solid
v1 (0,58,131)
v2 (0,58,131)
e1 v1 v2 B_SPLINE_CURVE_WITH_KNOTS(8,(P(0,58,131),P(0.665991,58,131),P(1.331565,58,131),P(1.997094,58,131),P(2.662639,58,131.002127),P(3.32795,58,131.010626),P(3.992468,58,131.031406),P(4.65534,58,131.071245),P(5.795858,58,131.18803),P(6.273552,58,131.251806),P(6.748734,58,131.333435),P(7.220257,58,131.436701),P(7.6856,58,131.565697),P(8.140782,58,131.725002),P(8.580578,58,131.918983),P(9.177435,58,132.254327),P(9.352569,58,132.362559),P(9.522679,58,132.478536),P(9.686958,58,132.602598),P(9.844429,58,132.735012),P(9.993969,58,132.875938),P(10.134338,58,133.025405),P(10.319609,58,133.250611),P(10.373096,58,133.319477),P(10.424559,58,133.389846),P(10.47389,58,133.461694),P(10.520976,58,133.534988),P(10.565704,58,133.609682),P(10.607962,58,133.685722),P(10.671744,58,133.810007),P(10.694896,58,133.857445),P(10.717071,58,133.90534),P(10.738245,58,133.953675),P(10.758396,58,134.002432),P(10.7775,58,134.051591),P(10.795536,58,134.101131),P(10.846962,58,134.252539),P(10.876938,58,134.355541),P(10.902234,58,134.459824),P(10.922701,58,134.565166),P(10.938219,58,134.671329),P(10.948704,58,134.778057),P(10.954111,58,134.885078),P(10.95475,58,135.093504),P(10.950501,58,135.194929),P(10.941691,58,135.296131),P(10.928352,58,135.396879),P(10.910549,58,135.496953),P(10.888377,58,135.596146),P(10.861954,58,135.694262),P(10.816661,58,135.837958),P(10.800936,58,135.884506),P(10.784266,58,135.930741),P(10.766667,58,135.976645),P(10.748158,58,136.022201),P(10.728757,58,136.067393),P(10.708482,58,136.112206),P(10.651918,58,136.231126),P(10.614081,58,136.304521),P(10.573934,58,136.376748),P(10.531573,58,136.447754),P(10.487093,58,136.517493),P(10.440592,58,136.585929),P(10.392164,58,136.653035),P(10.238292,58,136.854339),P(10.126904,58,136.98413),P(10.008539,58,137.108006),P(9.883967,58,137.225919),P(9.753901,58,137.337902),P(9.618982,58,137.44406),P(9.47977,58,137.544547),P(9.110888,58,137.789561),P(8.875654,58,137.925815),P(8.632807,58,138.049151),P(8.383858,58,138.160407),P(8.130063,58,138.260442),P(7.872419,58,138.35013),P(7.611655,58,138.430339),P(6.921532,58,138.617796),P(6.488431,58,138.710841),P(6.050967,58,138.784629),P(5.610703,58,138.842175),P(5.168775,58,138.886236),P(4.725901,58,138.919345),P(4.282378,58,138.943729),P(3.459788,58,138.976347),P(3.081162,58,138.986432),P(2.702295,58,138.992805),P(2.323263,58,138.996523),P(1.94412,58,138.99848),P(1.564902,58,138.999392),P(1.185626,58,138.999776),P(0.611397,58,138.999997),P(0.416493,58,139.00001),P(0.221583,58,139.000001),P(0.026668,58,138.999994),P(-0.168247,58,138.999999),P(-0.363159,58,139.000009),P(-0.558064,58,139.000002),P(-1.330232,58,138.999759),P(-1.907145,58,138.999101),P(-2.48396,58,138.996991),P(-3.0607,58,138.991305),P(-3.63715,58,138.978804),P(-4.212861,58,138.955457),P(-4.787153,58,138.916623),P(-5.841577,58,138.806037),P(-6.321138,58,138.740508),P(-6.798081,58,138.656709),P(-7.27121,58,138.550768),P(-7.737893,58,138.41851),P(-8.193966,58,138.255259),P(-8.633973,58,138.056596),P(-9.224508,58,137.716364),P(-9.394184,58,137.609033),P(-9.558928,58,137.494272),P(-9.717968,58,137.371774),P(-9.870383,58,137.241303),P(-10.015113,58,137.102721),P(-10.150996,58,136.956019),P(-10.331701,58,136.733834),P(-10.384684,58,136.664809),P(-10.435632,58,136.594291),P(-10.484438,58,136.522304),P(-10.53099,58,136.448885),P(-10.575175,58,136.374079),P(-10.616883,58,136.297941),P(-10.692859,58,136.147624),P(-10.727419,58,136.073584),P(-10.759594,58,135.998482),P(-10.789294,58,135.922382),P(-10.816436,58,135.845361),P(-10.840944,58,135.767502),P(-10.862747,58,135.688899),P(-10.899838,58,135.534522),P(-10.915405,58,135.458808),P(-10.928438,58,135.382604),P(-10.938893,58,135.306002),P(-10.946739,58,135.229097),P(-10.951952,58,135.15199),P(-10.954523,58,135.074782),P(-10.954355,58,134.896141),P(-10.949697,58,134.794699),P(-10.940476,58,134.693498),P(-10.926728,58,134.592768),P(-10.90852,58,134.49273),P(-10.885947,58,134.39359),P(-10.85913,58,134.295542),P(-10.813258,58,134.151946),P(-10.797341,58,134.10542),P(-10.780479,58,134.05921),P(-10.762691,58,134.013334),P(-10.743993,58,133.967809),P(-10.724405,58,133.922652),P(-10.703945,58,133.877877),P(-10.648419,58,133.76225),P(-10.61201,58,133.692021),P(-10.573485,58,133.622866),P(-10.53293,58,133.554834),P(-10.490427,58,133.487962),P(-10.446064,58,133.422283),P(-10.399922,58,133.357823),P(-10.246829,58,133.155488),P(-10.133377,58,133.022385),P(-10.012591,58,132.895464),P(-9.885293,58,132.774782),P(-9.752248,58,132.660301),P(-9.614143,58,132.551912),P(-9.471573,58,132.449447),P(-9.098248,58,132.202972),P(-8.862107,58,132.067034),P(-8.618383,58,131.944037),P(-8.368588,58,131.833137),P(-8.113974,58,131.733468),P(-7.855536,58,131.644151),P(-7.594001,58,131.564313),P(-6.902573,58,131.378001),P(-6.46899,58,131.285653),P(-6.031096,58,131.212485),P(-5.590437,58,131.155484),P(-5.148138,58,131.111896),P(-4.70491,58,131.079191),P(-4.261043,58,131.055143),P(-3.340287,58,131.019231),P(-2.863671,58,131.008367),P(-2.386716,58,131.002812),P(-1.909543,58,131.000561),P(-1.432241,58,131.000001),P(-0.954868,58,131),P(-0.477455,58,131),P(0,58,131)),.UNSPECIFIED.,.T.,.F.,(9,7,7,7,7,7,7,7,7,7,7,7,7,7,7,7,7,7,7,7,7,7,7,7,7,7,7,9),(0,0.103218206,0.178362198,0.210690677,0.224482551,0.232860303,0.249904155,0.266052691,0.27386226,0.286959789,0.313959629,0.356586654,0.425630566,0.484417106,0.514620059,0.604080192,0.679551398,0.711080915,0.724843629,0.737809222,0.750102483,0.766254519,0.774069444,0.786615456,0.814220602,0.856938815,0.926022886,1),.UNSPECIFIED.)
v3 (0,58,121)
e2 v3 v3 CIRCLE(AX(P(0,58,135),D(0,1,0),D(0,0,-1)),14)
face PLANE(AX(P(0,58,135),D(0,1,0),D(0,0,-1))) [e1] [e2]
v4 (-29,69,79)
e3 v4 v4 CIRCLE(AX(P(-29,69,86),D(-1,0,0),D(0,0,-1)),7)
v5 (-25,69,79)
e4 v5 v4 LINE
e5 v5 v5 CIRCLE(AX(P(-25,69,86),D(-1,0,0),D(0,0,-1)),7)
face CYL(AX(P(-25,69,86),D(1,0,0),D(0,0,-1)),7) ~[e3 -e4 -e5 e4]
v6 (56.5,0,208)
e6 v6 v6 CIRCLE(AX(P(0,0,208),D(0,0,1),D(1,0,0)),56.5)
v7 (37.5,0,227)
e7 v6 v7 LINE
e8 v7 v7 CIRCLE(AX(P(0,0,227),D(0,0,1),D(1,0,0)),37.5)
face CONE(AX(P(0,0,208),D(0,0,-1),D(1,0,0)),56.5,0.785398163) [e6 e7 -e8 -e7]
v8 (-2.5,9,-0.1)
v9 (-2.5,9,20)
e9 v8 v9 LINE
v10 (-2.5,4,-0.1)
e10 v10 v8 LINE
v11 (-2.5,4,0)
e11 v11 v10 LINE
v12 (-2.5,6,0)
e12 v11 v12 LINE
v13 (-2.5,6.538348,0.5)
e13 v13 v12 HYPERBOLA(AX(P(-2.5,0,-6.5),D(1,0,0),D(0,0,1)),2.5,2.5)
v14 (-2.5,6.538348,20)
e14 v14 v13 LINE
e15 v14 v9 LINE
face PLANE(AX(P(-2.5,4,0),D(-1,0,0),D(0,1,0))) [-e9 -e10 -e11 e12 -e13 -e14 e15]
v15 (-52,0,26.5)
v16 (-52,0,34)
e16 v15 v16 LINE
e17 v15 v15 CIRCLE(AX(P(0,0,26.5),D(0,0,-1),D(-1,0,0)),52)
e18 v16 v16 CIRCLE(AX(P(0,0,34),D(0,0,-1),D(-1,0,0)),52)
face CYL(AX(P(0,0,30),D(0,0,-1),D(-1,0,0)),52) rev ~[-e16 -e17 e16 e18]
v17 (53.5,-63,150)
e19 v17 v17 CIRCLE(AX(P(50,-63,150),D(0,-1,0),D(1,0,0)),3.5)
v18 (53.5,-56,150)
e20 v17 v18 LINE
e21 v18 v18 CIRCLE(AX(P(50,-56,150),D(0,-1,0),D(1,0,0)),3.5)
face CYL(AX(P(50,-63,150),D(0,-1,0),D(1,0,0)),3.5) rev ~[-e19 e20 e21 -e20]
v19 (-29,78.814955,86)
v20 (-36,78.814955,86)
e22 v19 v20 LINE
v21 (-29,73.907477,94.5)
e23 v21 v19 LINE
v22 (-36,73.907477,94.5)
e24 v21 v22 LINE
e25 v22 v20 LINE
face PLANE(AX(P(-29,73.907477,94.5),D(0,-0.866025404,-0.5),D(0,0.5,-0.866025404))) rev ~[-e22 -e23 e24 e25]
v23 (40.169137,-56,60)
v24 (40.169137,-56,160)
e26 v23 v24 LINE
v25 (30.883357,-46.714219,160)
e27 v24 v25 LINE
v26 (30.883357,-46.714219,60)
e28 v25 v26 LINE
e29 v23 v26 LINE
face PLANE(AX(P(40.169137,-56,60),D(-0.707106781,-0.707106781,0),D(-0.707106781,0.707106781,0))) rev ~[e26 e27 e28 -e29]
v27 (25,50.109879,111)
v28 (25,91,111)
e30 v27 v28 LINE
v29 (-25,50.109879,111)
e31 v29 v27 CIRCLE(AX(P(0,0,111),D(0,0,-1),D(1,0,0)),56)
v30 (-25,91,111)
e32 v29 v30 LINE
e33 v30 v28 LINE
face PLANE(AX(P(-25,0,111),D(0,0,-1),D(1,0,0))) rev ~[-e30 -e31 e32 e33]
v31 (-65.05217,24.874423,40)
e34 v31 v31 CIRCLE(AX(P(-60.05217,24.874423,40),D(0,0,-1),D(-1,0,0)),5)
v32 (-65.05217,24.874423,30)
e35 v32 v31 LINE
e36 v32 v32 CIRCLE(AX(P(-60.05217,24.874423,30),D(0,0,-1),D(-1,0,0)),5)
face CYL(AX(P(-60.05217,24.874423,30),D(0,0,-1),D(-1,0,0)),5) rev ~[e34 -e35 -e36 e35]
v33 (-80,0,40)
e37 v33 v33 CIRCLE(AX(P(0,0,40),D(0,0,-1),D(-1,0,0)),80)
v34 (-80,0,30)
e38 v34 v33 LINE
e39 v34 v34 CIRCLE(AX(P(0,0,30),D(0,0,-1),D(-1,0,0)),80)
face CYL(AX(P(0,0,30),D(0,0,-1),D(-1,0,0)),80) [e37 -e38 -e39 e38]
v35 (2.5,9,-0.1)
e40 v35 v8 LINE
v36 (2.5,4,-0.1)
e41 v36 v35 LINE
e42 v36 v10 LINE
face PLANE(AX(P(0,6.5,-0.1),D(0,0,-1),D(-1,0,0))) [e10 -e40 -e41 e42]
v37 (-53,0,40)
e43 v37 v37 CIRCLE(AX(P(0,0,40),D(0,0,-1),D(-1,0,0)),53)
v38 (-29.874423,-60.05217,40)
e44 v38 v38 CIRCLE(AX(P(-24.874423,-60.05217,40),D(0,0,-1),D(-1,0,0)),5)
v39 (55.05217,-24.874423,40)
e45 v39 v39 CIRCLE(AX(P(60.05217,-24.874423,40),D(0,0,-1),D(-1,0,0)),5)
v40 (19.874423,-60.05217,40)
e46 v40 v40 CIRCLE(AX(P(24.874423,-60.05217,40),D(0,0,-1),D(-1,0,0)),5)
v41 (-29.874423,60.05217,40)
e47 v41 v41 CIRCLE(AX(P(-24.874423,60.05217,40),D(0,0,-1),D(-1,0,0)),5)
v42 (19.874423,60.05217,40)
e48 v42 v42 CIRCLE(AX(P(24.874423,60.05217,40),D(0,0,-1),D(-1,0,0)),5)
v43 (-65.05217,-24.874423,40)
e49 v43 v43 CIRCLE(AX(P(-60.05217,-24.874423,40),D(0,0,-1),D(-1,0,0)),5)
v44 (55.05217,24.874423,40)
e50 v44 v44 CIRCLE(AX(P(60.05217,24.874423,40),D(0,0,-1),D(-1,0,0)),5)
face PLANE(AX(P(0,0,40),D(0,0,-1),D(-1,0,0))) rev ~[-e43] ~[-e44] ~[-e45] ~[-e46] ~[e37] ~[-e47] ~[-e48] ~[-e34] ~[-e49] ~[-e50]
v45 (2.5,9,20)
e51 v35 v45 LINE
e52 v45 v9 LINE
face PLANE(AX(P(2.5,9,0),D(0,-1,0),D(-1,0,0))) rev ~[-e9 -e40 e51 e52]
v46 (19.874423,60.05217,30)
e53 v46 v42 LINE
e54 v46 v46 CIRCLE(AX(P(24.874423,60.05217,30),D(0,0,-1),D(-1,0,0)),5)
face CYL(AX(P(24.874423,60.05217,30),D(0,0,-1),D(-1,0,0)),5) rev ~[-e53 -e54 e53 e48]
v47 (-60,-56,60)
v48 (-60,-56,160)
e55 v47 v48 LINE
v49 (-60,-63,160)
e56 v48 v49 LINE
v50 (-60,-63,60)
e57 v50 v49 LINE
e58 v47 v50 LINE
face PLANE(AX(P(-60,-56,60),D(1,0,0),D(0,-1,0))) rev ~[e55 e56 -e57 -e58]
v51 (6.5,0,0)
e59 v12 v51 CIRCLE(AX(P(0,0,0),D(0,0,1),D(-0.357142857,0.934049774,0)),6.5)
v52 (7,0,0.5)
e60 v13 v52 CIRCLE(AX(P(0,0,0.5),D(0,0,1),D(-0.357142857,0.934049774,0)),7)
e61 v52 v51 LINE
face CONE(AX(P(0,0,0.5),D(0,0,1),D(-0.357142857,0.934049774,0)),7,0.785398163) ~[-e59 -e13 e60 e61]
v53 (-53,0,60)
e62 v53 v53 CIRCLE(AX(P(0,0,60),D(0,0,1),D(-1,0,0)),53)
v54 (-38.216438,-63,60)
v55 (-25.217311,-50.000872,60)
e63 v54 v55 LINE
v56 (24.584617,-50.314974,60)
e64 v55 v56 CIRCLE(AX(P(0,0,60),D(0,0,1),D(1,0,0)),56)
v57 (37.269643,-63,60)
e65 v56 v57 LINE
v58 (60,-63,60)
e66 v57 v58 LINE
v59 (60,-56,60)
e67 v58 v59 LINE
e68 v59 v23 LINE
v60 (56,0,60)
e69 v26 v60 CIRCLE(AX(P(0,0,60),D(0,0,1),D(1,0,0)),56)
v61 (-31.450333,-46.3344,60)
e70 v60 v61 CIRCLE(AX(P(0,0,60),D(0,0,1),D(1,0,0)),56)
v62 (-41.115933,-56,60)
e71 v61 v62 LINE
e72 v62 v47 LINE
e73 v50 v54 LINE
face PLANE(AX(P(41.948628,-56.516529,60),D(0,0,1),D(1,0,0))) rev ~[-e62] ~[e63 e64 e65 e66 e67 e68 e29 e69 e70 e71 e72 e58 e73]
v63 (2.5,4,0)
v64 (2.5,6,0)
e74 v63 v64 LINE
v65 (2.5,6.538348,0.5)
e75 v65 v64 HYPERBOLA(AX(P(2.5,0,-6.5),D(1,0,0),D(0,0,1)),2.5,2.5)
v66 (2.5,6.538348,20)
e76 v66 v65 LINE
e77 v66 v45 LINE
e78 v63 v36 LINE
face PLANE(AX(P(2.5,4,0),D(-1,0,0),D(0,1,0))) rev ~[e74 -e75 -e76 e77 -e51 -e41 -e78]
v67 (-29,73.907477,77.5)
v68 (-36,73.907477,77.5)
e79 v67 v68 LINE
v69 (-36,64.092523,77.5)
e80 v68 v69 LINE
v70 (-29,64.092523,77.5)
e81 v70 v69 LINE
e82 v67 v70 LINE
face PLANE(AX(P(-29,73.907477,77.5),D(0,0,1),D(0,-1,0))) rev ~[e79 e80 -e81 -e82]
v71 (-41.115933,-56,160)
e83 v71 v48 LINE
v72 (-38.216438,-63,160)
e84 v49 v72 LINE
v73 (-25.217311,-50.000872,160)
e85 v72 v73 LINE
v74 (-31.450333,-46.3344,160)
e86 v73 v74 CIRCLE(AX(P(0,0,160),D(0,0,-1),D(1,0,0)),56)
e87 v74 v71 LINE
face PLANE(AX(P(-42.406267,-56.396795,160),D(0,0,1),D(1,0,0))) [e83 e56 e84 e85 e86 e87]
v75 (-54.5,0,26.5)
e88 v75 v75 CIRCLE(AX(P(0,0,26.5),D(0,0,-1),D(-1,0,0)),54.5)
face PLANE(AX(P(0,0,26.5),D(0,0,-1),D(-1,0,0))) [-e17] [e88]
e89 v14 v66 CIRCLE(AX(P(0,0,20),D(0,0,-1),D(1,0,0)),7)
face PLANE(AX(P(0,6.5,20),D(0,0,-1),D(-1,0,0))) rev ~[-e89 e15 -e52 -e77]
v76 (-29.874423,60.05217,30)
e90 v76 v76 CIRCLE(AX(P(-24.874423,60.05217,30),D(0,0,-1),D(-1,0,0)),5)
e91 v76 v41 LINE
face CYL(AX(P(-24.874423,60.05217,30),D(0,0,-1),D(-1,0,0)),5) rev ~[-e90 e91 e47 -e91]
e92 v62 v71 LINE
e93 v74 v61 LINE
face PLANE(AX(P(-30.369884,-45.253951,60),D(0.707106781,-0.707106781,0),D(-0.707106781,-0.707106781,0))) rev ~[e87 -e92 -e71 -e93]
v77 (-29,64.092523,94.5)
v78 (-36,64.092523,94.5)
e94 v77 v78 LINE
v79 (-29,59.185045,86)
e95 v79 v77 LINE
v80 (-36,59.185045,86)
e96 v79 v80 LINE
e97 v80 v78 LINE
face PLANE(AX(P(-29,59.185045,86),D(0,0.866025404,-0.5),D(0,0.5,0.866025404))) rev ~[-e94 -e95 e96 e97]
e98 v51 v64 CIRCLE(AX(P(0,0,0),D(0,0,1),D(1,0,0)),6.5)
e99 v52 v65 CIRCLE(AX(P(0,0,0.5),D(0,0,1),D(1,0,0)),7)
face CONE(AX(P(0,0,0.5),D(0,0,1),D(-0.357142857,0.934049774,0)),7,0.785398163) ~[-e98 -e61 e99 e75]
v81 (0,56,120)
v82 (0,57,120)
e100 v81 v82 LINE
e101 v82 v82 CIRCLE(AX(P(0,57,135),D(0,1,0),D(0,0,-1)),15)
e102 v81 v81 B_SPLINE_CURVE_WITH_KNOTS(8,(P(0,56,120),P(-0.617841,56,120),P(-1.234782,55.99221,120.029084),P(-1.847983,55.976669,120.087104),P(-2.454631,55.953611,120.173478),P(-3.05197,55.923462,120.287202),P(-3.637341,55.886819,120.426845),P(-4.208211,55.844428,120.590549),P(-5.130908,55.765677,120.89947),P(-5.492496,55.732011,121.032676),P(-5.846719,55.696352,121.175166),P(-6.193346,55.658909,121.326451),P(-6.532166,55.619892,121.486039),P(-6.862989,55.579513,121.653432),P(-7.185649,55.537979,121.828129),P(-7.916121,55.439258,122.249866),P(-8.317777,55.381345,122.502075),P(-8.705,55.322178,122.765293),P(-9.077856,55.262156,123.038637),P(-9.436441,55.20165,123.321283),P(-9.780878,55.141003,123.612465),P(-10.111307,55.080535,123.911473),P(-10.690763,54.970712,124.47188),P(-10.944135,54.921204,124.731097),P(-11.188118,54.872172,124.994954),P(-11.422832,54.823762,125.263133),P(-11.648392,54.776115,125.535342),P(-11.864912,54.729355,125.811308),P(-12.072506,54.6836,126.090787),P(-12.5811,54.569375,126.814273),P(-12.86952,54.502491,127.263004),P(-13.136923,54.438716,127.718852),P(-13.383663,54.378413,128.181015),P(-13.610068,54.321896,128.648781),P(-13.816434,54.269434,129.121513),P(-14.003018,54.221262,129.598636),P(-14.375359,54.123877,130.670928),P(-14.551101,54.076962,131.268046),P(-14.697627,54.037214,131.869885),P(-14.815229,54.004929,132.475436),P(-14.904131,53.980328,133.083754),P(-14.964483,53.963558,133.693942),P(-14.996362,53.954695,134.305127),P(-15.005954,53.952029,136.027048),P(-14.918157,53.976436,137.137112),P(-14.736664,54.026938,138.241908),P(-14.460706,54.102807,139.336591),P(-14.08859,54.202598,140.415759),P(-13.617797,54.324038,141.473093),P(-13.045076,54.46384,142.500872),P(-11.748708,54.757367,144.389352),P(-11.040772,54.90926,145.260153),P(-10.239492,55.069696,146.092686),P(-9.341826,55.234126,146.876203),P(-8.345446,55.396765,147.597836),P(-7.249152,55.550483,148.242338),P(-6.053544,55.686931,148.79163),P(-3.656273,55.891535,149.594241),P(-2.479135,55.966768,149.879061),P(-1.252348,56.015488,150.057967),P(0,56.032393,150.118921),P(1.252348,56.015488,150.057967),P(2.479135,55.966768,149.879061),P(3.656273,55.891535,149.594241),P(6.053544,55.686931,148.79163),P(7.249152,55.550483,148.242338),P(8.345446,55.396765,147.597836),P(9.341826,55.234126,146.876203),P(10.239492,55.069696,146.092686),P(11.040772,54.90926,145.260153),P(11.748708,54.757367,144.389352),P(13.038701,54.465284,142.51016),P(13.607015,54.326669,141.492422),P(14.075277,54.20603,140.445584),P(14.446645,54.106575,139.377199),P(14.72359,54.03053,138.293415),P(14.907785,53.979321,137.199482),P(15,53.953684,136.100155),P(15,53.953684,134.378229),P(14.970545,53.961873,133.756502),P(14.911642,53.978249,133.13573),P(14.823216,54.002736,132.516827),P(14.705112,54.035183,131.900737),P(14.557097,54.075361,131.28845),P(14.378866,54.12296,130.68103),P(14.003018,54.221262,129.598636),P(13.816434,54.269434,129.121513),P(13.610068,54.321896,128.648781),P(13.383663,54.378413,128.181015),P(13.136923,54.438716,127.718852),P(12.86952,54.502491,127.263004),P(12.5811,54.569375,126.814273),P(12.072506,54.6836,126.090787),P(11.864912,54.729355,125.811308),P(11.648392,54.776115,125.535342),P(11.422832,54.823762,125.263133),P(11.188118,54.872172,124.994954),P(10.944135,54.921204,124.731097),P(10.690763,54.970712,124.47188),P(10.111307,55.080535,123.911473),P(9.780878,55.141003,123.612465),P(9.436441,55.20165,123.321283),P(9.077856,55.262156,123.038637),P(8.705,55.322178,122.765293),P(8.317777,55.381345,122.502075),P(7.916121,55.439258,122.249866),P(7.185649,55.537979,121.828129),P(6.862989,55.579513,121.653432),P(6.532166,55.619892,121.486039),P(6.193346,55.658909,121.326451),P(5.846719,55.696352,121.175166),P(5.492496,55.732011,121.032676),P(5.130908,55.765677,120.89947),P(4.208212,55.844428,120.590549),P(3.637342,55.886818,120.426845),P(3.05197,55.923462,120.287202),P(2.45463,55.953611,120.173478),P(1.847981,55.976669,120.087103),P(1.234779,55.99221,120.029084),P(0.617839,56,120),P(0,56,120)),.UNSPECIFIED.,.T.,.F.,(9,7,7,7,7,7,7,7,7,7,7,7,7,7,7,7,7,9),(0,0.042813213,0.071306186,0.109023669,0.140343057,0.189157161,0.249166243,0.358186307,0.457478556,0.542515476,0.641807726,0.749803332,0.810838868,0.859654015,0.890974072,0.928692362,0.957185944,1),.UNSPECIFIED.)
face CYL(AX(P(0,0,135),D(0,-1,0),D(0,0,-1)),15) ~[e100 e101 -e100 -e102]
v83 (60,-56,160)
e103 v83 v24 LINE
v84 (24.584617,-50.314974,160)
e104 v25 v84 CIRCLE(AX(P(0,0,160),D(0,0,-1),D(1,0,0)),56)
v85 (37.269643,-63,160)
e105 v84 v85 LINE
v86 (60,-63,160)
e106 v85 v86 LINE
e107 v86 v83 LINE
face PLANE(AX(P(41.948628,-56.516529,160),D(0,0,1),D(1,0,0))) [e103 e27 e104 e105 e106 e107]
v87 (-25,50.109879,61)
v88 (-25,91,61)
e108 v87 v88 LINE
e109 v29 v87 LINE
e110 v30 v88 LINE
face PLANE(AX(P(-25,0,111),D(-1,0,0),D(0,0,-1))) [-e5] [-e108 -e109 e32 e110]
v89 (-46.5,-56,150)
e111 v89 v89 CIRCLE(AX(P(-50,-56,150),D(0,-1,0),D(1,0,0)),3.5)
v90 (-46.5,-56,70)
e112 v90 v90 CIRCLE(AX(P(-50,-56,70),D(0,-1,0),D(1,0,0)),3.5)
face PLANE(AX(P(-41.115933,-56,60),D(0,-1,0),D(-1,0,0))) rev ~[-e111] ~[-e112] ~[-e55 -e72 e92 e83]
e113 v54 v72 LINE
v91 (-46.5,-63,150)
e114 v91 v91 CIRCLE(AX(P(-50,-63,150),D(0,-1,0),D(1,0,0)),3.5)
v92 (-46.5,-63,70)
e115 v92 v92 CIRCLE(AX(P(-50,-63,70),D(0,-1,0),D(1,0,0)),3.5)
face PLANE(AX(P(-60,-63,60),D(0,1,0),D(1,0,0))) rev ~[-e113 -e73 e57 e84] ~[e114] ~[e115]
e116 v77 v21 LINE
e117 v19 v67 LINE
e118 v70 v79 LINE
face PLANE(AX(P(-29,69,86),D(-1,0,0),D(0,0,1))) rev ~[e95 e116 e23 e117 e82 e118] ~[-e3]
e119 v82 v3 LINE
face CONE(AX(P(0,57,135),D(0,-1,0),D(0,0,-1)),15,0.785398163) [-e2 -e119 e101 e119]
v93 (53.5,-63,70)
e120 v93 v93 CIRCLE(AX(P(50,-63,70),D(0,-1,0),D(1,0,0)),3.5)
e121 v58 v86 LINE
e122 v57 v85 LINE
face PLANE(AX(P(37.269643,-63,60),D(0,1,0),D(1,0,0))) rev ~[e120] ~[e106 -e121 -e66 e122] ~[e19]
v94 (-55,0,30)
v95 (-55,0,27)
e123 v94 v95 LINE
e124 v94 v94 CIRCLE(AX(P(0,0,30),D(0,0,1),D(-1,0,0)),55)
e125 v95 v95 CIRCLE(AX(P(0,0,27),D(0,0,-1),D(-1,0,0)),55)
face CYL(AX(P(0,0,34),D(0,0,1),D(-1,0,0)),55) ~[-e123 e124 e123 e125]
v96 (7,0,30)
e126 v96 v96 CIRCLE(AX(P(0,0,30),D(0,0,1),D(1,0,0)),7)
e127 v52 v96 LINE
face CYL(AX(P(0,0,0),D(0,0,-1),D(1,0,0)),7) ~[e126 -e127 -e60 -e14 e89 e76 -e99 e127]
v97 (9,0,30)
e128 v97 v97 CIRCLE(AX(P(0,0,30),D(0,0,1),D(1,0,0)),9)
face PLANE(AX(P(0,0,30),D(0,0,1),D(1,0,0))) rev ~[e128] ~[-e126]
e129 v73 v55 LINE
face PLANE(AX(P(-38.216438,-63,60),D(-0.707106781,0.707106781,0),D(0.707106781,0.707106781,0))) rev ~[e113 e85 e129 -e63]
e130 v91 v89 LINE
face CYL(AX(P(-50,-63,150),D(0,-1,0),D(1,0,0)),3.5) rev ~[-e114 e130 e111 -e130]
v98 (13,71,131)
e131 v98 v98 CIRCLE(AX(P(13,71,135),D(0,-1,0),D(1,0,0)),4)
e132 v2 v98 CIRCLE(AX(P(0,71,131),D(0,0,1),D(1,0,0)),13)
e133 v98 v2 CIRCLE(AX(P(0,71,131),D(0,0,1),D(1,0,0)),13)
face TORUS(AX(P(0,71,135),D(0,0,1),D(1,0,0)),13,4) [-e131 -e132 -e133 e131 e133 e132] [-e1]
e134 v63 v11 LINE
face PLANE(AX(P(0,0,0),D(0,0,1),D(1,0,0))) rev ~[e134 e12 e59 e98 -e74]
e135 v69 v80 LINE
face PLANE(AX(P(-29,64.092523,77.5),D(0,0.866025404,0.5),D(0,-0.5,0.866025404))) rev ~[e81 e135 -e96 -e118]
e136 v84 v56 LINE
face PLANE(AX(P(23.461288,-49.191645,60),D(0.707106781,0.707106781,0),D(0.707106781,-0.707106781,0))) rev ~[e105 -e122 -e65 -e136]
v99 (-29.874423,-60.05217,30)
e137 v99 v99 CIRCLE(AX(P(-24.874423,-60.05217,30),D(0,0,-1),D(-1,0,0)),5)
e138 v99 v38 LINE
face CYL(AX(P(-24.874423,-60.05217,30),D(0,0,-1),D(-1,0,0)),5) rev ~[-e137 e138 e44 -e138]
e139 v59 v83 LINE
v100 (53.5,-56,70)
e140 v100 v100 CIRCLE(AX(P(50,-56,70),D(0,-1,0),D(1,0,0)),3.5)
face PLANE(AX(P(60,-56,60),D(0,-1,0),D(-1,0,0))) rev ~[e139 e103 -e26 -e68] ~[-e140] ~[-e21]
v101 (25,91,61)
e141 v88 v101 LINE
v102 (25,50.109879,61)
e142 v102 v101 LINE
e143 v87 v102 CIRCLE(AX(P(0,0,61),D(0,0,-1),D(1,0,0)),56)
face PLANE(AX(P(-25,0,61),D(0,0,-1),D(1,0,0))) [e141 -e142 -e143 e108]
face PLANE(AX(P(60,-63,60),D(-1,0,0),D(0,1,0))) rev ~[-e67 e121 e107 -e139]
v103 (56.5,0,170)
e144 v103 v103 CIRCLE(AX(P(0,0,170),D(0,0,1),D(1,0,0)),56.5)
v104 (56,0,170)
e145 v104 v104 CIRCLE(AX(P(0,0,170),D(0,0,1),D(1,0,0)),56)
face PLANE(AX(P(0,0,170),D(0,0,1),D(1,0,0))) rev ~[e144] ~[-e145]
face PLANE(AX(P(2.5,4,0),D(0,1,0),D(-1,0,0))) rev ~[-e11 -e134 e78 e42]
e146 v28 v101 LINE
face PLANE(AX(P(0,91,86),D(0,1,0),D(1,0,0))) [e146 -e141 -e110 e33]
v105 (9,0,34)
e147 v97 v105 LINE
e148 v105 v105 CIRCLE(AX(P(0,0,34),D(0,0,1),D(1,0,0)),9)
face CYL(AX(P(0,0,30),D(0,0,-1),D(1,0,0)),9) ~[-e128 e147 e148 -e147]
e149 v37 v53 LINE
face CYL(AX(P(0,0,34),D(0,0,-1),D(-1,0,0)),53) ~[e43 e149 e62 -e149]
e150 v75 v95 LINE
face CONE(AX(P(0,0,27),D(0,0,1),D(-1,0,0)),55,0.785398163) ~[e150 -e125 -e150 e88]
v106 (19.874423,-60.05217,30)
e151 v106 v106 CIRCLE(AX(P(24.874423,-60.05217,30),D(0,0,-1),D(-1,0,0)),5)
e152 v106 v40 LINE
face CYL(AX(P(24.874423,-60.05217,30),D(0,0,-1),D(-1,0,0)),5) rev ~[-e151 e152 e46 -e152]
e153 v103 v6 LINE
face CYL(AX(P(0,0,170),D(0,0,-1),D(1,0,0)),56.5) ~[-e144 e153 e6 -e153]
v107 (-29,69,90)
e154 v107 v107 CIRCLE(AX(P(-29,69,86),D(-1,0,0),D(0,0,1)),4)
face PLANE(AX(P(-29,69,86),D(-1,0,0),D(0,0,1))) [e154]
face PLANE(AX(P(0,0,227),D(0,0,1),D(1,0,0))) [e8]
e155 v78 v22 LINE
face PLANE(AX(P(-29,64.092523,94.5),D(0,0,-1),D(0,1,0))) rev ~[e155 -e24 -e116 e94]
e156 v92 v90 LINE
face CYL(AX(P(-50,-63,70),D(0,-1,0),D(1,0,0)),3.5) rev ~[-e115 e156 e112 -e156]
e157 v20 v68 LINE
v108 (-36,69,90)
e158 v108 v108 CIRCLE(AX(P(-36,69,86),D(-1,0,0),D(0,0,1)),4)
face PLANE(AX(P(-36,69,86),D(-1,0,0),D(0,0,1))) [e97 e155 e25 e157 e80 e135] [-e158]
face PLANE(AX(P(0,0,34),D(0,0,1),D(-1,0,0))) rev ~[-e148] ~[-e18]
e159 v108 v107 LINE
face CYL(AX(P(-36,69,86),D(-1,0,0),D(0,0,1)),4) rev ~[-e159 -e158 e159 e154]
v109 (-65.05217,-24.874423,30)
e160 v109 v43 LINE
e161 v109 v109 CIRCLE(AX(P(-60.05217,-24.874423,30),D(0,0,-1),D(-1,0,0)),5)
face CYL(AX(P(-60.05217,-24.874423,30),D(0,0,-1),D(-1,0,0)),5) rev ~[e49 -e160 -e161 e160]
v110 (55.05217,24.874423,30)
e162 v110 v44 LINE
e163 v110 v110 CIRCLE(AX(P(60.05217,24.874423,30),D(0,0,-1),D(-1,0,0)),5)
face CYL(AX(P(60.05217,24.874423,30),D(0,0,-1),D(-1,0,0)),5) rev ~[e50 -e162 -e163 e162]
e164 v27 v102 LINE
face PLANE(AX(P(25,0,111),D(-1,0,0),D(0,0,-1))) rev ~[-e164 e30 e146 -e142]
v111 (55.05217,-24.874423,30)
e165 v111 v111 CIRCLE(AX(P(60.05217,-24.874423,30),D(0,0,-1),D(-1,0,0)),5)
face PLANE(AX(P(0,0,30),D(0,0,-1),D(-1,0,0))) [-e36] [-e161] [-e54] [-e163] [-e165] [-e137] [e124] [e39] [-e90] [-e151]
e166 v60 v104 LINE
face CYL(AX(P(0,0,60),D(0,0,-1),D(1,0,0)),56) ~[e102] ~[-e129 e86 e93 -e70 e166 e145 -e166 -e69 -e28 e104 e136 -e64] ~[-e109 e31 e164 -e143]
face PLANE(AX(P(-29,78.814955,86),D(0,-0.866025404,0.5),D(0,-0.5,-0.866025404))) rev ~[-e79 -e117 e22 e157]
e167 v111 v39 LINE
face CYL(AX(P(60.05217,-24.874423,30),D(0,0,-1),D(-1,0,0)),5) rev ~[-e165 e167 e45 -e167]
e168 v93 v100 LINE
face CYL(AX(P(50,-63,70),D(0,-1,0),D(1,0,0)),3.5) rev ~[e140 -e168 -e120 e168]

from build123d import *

# Parameters (mm, degrees)
SKETCH_1_R           = 7
EXTRUDE_1_DEPTH      = 30
SKETCH_2_W           = 5
SKETCH_2_H           = 5
EXTRUDE_2_DEPTH      = 0.1
EXTRUDE_2_DEPTH_BACK = 20
SKETCH_3_R           = 9
EXTRUDE_3_DEPTH      = 4
SKETCH_4_R           = 80
SKETCH_4_R_2         = 52
EXTRUDE_4_DEPTH      = 10
SKETCH_5_R           = 53
EXTRUDE_5_DEPTH      = 26
SKETCH_7_R           = 55
SKETCH_7_R_2         = 52
EXTRUDE_6_DEPTH      = 7.5
CHAMFER_1_SIZE       = 0.5
SKETCH_8_R           = 5
CUT_EXTRUDE_1_DEPTH  = 31
SKETCH_10_R          = 56
EXTRUDE_7_DEPTH      = 110
SKETCH_11_R          = 56.5
EXTRUDE_8_DEPTH      = 57
CHAMFER_2_SIZE       = 19
EXTRUDE_9_DEPTH      = 100
CUT_EXTRUDE_2_REACH  = 145
SKETCH_13_R          = 3.5
SKETCH_14_W          = 50
SKETCH_14_H          = 50
EXTRUDE_10_DEPTH     = 91
SKETCH_15_R          = 15
EXTRUDE_11_DEPTH     = 58
CHAMFER_3_SIZE       = 1
SKETCH_17_R          = 4
SKETCH_18_R          = 7
EXTRUDE_12_DEPTH     = 4
EXTRUDE_13_DEPTH     = 7
SKETCH_20_R          = 4
CUT_EXTRUDE_3_DEPTH  = 7


with BuildPart() as part:
    # Эскиз1 → Вытянуть1 (new body)
    with BuildSketch(Plane.XY):
        Circle(SKETCH_1_R)
    extrude(amount=EXTRUDE_1_DEPTH)

    # Эскиз2 → Вытянуть2 (add, two sides)
    with BuildSketch(Plane(origin=(0, 0, 0), x_dir=(-1, 0, 0), z_dir=(0, 0, -1))) as extrude_2_sk:
        with Locations((0, 6.5)):
            Rectangle(SKETCH_2_W, SKETCH_2_H)
    extrude(amount=EXTRUDE_2_DEPTH)
    extrude(extrude_2_sk.sketch, amount=-EXTRUDE_2_DEPTH_BACK)

    # Эскиз3 → Вытянуть3 (add)
    with BuildSketch(Plane.XY.offset(30)):
        Circle(SKETCH_3_R)
    extrude(amount=EXTRUDE_3_DEPTH)



with BuildPart() as body_2:
    # Эскиз4 → Вытянуть4 (new body)
    with BuildSketch(Plane(origin=(0, 0, 30), x_dir=(-1, 0, 0), z_dir=(0, 0, -1))):
        Circle(SKETCH_4_R)
        Circle(SKETCH_4_R_2, mode=Mode.SUBTRACT)
    extrude(amount=-EXTRUDE_4_DEPTH)


with BuildPart() as part_1:
    add(part.part)

    add(body_2.part)  # Вытянуть5 merges body 2
    # Эскиз5 → Вытянуть5 (add)
    with BuildSketch(Plane.XY.offset(34)):
        with Locations(Location((0, 0, 0), (0, 0, 180))):  # turned: the seam where the file's is
            Circle(SKETCH_5_R)
    extrude(amount=EXTRUDE_5_DEPTH)

    # Эскиз7 → Вытянуть6 (add)
    with BuildSketch(Plane(origin=(0, 0, 34), x_dir=(-1, 0, 0), z_dir=(0, 0, -1))):
        Circle(SKETCH_7_R)
        Circle(SKETCH_7_R_2, mode=Mode.SUBTRACT)
    extrude(amount=EXTRUDE_6_DEPTH)

    # Фаска1
    chamfer_1_edges = [part_1.edges().sort_by_distance(p)[0] for p in [
        (55, 0, 26.5),
        (-3.968626967, -5.766281297, 0),
    ]]
    chamfer(chamfer_1_edges, length=CHAMFER_1_SIZE)

    # Эскиз8 → Вырез-Вытянуть1 (cut, through all)
    with BuildSketch(Plane(origin=(0, 0, 30), x_dir=(-1, 0, 0), z_dir=(0, 0, -1))):
        with Locations((-24.874423104, 60.052169613)):
            Circle(SKETCH_8_R)
        with Locations((24.874423104, 60.052169613)):
            Circle(SKETCH_8_R)
        with Locations((60.052169613, 24.874423104)):
            Circle(SKETCH_8_R)
        with Locations((60.052169613, -24.874423104)):
            Circle(SKETCH_8_R)
        with Locations((24.874423104, -60.052169613)):
            Circle(SKETCH_8_R)
        with Locations((-24.874423104, -60.052169613)):
            Circle(SKETCH_8_R)
        with Locations((-60.052169613, -24.874423104)):
            Circle(SKETCH_8_R)
        with Locations((-60.052169613, 24.874423104)):
            Circle(SKETCH_8_R)
    extrude(amount=-CUT_EXTRUDE_1_DEPTH, mode=Mode.SUBTRACT)

    # Эскиз10 → Вытянуть7 (add)
    with BuildSketch(Plane.XY.offset(60)):
        Circle(SKETCH_10_R)
    extrude(amount=EXTRUDE_7_DEPTH)

    # Эскиз11 → Вытянуть8 (add)
    with BuildSketch(Plane.XY.offset(170)):
        Circle(SKETCH_11_R)
    extrude(amount=EXTRUDE_8_DEPTH)

    # Фаска2
    chamfer_2_edges = [part_1.edges().sort_by_distance(p)[0] for p in [
        (-56.5, 0, 227),
    ]]
    chamfer(chamfer_2_edges, length=CHAMFER_2_SIZE)

    # Эскиз12 → Вытянуть9 (add)
    with BuildSketch(Plane(origin=(0, 0, 60), x_dir=(-1, 0, 0), z_dir=(0, 0, -1))):
        Polygon((-60, -56), (-40.169137476, -56), (-29.800227926, -45.631090449), (-23.461287878, -49.191645338), (-37.26964254, -63), (-60, -63), align=None)
        Polygon((41.115933076, -56), (60, -56), (60, -63), (38.21643814, -63), (24.472073526, -49.255635387), (30.369884473, -45.253951397), align=None)
    extrude(amount=-EXTRUDE_9_DEPTH)

    # Эскиз13 → Вырез-Вытянуть2 (cut, up to next)
    with BuildSketch(Plane.XZ.offset(63), mode=Mode.PRIVATE) as cut_extrude_2_sk1:
        with Locations((-50, 70)):
            Circle(SKETCH_13_R)
    cut_extrude_2_tool1 = extrude(cut_extrude_2_sk1.sketch, amount=-CUT_EXTRUDE_2_REACH, mode=Mode.PRIVATE) & part_1.part
    add(cut_extrude_2_tool1.solids().sort_by_distance((-50, -63, 70))[0], mode=Mode.SUBTRACT)
    # Эскиз13 → Вырез-Вытянуть2 (cut, up to next)
    with BuildSketch(Plane.XZ.offset(63), mode=Mode.PRIVATE) as cut_extrude_2_sk2:
        with Locations((50, 70)):
            Circle(SKETCH_13_R)
    cut_extrude_2_tool2 = extrude(cut_extrude_2_sk2.sketch, amount=-CUT_EXTRUDE_2_REACH, mode=Mode.PRIVATE) & part_1.part
    add(cut_extrude_2_tool2.solids().sort_by_distance((50, -63, 70))[0], mode=Mode.SUBTRACT)
    # Эскиз13 → Вырез-Вытянуть2 (cut, up to next)
    with BuildSketch(Plane.XZ.offset(63), mode=Mode.PRIVATE) as cut_extrude_2_sk3:
        with Locations((-50, 150)):
            Circle(SKETCH_13_R)
    cut_extrude_2_tool3 = extrude(cut_extrude_2_sk3.sketch, amount=-CUT_EXTRUDE_2_REACH, mode=Mode.PRIVATE) & part_1.part
    add(cut_extrude_2_tool3.solids().sort_by_distance((-50, -63, 150))[0], mode=Mode.SUBTRACT)
    # Эскиз13 → Вырез-Вытянуть2 (cut, up to next)
    with BuildSketch(Plane.XZ.offset(63), mode=Mode.PRIVATE) as cut_extrude_2_sk4:
        with Locations((50, 150)):
            Circle(SKETCH_13_R)
    cut_extrude_2_tool4 = extrude(cut_extrude_2_sk4.sketch, amount=-CUT_EXTRUDE_2_REACH, mode=Mode.PRIVATE) & part_1.part
    add(cut_extrude_2_tool4.solids().sort_by_distance((50, -63, 150))[0], mode=Mode.SUBTRACT)

    # Эскиз14 → Вытянуть10 (add)
    with BuildSketch(Plane(origin=(0, 0, 0), x_dir=(1, 0, 0), z_dir=(0, 1, 0))):
        with Locations((0, -86)):
            Rectangle(SKETCH_14_W, SKETCH_14_H)
    extrude(amount=EXTRUDE_10_DEPTH)

    # Эскиз15 → Вытянуть11 (add)
    with BuildSketch(Plane(origin=(0, 0, 0), x_dir=(1, 0, 0), z_dir=(0, 1, 0))):
        with Locations(Location((0, -135, 0), (0, 0, 90))):  # turned: the seam where the file's is
            Circle(SKETCH_15_R)
    extrude(amount=EXTRUDE_11_DEPTH)

    # Фаска3
    chamfer_3_edges = [part_1.edges().sort_by_distance(p)[0] for p in [
        (0, 58, 150),
    ]]
    chamfer(chamfer_3_edges, length=CHAMFER_3_SIZE)

    # По траектории1: sweep along a path in Эскиз16
    with BuildLine(Plane.XY.offset(135)) as sweep_1_path:
        CenterArc((0, 71), 13, 0, 360)
    # Эскиз17 → По траектории1 (sweep)
    with BuildSketch(Plane(origin=(0, 0, 0), x_dir=(0, 0, -1), z_dir=(1, 0, 0))):
        with Locations((-135, 84)):
            Circle(SKETCH_17_R)
    sweep(path=sweep_1_path.line)

    # Эскиз18 → Вытянуть12 (add)
    with BuildSketch(Plane.ZY.offset(25)):
        with Locations(Location((86, 69, 0), (0, 0, 180))):  # turned: the seam where the file's is
            Circle(SKETCH_18_R)
    extrude(amount=EXTRUDE_12_DEPTH)

    # Эскиз19 → Вытянуть13 (add)
    with BuildSketch(Plane.ZY.offset(29)):
        Polygon((86, 78.814954576), (77.5, 73.907477288), (77.5, 64.092522712), (86, 59.185045424), (94.5, 64.092522712), (94.5, 73.907477288), align=None)
    extrude(amount=EXTRUDE_13_DEPTH)

    # Эскиз20 → Вырез-Вытянуть3 (cut)
    with BuildSketch(Plane.ZY.offset(36)):
        with Locations((86, 69)):
            Circle(SKETCH_20_R)
    extrude(amount=-CUT_EXTRUDE_3_DEPTH, mode=Mode.SUBTRACT)


solid = part_1.part
